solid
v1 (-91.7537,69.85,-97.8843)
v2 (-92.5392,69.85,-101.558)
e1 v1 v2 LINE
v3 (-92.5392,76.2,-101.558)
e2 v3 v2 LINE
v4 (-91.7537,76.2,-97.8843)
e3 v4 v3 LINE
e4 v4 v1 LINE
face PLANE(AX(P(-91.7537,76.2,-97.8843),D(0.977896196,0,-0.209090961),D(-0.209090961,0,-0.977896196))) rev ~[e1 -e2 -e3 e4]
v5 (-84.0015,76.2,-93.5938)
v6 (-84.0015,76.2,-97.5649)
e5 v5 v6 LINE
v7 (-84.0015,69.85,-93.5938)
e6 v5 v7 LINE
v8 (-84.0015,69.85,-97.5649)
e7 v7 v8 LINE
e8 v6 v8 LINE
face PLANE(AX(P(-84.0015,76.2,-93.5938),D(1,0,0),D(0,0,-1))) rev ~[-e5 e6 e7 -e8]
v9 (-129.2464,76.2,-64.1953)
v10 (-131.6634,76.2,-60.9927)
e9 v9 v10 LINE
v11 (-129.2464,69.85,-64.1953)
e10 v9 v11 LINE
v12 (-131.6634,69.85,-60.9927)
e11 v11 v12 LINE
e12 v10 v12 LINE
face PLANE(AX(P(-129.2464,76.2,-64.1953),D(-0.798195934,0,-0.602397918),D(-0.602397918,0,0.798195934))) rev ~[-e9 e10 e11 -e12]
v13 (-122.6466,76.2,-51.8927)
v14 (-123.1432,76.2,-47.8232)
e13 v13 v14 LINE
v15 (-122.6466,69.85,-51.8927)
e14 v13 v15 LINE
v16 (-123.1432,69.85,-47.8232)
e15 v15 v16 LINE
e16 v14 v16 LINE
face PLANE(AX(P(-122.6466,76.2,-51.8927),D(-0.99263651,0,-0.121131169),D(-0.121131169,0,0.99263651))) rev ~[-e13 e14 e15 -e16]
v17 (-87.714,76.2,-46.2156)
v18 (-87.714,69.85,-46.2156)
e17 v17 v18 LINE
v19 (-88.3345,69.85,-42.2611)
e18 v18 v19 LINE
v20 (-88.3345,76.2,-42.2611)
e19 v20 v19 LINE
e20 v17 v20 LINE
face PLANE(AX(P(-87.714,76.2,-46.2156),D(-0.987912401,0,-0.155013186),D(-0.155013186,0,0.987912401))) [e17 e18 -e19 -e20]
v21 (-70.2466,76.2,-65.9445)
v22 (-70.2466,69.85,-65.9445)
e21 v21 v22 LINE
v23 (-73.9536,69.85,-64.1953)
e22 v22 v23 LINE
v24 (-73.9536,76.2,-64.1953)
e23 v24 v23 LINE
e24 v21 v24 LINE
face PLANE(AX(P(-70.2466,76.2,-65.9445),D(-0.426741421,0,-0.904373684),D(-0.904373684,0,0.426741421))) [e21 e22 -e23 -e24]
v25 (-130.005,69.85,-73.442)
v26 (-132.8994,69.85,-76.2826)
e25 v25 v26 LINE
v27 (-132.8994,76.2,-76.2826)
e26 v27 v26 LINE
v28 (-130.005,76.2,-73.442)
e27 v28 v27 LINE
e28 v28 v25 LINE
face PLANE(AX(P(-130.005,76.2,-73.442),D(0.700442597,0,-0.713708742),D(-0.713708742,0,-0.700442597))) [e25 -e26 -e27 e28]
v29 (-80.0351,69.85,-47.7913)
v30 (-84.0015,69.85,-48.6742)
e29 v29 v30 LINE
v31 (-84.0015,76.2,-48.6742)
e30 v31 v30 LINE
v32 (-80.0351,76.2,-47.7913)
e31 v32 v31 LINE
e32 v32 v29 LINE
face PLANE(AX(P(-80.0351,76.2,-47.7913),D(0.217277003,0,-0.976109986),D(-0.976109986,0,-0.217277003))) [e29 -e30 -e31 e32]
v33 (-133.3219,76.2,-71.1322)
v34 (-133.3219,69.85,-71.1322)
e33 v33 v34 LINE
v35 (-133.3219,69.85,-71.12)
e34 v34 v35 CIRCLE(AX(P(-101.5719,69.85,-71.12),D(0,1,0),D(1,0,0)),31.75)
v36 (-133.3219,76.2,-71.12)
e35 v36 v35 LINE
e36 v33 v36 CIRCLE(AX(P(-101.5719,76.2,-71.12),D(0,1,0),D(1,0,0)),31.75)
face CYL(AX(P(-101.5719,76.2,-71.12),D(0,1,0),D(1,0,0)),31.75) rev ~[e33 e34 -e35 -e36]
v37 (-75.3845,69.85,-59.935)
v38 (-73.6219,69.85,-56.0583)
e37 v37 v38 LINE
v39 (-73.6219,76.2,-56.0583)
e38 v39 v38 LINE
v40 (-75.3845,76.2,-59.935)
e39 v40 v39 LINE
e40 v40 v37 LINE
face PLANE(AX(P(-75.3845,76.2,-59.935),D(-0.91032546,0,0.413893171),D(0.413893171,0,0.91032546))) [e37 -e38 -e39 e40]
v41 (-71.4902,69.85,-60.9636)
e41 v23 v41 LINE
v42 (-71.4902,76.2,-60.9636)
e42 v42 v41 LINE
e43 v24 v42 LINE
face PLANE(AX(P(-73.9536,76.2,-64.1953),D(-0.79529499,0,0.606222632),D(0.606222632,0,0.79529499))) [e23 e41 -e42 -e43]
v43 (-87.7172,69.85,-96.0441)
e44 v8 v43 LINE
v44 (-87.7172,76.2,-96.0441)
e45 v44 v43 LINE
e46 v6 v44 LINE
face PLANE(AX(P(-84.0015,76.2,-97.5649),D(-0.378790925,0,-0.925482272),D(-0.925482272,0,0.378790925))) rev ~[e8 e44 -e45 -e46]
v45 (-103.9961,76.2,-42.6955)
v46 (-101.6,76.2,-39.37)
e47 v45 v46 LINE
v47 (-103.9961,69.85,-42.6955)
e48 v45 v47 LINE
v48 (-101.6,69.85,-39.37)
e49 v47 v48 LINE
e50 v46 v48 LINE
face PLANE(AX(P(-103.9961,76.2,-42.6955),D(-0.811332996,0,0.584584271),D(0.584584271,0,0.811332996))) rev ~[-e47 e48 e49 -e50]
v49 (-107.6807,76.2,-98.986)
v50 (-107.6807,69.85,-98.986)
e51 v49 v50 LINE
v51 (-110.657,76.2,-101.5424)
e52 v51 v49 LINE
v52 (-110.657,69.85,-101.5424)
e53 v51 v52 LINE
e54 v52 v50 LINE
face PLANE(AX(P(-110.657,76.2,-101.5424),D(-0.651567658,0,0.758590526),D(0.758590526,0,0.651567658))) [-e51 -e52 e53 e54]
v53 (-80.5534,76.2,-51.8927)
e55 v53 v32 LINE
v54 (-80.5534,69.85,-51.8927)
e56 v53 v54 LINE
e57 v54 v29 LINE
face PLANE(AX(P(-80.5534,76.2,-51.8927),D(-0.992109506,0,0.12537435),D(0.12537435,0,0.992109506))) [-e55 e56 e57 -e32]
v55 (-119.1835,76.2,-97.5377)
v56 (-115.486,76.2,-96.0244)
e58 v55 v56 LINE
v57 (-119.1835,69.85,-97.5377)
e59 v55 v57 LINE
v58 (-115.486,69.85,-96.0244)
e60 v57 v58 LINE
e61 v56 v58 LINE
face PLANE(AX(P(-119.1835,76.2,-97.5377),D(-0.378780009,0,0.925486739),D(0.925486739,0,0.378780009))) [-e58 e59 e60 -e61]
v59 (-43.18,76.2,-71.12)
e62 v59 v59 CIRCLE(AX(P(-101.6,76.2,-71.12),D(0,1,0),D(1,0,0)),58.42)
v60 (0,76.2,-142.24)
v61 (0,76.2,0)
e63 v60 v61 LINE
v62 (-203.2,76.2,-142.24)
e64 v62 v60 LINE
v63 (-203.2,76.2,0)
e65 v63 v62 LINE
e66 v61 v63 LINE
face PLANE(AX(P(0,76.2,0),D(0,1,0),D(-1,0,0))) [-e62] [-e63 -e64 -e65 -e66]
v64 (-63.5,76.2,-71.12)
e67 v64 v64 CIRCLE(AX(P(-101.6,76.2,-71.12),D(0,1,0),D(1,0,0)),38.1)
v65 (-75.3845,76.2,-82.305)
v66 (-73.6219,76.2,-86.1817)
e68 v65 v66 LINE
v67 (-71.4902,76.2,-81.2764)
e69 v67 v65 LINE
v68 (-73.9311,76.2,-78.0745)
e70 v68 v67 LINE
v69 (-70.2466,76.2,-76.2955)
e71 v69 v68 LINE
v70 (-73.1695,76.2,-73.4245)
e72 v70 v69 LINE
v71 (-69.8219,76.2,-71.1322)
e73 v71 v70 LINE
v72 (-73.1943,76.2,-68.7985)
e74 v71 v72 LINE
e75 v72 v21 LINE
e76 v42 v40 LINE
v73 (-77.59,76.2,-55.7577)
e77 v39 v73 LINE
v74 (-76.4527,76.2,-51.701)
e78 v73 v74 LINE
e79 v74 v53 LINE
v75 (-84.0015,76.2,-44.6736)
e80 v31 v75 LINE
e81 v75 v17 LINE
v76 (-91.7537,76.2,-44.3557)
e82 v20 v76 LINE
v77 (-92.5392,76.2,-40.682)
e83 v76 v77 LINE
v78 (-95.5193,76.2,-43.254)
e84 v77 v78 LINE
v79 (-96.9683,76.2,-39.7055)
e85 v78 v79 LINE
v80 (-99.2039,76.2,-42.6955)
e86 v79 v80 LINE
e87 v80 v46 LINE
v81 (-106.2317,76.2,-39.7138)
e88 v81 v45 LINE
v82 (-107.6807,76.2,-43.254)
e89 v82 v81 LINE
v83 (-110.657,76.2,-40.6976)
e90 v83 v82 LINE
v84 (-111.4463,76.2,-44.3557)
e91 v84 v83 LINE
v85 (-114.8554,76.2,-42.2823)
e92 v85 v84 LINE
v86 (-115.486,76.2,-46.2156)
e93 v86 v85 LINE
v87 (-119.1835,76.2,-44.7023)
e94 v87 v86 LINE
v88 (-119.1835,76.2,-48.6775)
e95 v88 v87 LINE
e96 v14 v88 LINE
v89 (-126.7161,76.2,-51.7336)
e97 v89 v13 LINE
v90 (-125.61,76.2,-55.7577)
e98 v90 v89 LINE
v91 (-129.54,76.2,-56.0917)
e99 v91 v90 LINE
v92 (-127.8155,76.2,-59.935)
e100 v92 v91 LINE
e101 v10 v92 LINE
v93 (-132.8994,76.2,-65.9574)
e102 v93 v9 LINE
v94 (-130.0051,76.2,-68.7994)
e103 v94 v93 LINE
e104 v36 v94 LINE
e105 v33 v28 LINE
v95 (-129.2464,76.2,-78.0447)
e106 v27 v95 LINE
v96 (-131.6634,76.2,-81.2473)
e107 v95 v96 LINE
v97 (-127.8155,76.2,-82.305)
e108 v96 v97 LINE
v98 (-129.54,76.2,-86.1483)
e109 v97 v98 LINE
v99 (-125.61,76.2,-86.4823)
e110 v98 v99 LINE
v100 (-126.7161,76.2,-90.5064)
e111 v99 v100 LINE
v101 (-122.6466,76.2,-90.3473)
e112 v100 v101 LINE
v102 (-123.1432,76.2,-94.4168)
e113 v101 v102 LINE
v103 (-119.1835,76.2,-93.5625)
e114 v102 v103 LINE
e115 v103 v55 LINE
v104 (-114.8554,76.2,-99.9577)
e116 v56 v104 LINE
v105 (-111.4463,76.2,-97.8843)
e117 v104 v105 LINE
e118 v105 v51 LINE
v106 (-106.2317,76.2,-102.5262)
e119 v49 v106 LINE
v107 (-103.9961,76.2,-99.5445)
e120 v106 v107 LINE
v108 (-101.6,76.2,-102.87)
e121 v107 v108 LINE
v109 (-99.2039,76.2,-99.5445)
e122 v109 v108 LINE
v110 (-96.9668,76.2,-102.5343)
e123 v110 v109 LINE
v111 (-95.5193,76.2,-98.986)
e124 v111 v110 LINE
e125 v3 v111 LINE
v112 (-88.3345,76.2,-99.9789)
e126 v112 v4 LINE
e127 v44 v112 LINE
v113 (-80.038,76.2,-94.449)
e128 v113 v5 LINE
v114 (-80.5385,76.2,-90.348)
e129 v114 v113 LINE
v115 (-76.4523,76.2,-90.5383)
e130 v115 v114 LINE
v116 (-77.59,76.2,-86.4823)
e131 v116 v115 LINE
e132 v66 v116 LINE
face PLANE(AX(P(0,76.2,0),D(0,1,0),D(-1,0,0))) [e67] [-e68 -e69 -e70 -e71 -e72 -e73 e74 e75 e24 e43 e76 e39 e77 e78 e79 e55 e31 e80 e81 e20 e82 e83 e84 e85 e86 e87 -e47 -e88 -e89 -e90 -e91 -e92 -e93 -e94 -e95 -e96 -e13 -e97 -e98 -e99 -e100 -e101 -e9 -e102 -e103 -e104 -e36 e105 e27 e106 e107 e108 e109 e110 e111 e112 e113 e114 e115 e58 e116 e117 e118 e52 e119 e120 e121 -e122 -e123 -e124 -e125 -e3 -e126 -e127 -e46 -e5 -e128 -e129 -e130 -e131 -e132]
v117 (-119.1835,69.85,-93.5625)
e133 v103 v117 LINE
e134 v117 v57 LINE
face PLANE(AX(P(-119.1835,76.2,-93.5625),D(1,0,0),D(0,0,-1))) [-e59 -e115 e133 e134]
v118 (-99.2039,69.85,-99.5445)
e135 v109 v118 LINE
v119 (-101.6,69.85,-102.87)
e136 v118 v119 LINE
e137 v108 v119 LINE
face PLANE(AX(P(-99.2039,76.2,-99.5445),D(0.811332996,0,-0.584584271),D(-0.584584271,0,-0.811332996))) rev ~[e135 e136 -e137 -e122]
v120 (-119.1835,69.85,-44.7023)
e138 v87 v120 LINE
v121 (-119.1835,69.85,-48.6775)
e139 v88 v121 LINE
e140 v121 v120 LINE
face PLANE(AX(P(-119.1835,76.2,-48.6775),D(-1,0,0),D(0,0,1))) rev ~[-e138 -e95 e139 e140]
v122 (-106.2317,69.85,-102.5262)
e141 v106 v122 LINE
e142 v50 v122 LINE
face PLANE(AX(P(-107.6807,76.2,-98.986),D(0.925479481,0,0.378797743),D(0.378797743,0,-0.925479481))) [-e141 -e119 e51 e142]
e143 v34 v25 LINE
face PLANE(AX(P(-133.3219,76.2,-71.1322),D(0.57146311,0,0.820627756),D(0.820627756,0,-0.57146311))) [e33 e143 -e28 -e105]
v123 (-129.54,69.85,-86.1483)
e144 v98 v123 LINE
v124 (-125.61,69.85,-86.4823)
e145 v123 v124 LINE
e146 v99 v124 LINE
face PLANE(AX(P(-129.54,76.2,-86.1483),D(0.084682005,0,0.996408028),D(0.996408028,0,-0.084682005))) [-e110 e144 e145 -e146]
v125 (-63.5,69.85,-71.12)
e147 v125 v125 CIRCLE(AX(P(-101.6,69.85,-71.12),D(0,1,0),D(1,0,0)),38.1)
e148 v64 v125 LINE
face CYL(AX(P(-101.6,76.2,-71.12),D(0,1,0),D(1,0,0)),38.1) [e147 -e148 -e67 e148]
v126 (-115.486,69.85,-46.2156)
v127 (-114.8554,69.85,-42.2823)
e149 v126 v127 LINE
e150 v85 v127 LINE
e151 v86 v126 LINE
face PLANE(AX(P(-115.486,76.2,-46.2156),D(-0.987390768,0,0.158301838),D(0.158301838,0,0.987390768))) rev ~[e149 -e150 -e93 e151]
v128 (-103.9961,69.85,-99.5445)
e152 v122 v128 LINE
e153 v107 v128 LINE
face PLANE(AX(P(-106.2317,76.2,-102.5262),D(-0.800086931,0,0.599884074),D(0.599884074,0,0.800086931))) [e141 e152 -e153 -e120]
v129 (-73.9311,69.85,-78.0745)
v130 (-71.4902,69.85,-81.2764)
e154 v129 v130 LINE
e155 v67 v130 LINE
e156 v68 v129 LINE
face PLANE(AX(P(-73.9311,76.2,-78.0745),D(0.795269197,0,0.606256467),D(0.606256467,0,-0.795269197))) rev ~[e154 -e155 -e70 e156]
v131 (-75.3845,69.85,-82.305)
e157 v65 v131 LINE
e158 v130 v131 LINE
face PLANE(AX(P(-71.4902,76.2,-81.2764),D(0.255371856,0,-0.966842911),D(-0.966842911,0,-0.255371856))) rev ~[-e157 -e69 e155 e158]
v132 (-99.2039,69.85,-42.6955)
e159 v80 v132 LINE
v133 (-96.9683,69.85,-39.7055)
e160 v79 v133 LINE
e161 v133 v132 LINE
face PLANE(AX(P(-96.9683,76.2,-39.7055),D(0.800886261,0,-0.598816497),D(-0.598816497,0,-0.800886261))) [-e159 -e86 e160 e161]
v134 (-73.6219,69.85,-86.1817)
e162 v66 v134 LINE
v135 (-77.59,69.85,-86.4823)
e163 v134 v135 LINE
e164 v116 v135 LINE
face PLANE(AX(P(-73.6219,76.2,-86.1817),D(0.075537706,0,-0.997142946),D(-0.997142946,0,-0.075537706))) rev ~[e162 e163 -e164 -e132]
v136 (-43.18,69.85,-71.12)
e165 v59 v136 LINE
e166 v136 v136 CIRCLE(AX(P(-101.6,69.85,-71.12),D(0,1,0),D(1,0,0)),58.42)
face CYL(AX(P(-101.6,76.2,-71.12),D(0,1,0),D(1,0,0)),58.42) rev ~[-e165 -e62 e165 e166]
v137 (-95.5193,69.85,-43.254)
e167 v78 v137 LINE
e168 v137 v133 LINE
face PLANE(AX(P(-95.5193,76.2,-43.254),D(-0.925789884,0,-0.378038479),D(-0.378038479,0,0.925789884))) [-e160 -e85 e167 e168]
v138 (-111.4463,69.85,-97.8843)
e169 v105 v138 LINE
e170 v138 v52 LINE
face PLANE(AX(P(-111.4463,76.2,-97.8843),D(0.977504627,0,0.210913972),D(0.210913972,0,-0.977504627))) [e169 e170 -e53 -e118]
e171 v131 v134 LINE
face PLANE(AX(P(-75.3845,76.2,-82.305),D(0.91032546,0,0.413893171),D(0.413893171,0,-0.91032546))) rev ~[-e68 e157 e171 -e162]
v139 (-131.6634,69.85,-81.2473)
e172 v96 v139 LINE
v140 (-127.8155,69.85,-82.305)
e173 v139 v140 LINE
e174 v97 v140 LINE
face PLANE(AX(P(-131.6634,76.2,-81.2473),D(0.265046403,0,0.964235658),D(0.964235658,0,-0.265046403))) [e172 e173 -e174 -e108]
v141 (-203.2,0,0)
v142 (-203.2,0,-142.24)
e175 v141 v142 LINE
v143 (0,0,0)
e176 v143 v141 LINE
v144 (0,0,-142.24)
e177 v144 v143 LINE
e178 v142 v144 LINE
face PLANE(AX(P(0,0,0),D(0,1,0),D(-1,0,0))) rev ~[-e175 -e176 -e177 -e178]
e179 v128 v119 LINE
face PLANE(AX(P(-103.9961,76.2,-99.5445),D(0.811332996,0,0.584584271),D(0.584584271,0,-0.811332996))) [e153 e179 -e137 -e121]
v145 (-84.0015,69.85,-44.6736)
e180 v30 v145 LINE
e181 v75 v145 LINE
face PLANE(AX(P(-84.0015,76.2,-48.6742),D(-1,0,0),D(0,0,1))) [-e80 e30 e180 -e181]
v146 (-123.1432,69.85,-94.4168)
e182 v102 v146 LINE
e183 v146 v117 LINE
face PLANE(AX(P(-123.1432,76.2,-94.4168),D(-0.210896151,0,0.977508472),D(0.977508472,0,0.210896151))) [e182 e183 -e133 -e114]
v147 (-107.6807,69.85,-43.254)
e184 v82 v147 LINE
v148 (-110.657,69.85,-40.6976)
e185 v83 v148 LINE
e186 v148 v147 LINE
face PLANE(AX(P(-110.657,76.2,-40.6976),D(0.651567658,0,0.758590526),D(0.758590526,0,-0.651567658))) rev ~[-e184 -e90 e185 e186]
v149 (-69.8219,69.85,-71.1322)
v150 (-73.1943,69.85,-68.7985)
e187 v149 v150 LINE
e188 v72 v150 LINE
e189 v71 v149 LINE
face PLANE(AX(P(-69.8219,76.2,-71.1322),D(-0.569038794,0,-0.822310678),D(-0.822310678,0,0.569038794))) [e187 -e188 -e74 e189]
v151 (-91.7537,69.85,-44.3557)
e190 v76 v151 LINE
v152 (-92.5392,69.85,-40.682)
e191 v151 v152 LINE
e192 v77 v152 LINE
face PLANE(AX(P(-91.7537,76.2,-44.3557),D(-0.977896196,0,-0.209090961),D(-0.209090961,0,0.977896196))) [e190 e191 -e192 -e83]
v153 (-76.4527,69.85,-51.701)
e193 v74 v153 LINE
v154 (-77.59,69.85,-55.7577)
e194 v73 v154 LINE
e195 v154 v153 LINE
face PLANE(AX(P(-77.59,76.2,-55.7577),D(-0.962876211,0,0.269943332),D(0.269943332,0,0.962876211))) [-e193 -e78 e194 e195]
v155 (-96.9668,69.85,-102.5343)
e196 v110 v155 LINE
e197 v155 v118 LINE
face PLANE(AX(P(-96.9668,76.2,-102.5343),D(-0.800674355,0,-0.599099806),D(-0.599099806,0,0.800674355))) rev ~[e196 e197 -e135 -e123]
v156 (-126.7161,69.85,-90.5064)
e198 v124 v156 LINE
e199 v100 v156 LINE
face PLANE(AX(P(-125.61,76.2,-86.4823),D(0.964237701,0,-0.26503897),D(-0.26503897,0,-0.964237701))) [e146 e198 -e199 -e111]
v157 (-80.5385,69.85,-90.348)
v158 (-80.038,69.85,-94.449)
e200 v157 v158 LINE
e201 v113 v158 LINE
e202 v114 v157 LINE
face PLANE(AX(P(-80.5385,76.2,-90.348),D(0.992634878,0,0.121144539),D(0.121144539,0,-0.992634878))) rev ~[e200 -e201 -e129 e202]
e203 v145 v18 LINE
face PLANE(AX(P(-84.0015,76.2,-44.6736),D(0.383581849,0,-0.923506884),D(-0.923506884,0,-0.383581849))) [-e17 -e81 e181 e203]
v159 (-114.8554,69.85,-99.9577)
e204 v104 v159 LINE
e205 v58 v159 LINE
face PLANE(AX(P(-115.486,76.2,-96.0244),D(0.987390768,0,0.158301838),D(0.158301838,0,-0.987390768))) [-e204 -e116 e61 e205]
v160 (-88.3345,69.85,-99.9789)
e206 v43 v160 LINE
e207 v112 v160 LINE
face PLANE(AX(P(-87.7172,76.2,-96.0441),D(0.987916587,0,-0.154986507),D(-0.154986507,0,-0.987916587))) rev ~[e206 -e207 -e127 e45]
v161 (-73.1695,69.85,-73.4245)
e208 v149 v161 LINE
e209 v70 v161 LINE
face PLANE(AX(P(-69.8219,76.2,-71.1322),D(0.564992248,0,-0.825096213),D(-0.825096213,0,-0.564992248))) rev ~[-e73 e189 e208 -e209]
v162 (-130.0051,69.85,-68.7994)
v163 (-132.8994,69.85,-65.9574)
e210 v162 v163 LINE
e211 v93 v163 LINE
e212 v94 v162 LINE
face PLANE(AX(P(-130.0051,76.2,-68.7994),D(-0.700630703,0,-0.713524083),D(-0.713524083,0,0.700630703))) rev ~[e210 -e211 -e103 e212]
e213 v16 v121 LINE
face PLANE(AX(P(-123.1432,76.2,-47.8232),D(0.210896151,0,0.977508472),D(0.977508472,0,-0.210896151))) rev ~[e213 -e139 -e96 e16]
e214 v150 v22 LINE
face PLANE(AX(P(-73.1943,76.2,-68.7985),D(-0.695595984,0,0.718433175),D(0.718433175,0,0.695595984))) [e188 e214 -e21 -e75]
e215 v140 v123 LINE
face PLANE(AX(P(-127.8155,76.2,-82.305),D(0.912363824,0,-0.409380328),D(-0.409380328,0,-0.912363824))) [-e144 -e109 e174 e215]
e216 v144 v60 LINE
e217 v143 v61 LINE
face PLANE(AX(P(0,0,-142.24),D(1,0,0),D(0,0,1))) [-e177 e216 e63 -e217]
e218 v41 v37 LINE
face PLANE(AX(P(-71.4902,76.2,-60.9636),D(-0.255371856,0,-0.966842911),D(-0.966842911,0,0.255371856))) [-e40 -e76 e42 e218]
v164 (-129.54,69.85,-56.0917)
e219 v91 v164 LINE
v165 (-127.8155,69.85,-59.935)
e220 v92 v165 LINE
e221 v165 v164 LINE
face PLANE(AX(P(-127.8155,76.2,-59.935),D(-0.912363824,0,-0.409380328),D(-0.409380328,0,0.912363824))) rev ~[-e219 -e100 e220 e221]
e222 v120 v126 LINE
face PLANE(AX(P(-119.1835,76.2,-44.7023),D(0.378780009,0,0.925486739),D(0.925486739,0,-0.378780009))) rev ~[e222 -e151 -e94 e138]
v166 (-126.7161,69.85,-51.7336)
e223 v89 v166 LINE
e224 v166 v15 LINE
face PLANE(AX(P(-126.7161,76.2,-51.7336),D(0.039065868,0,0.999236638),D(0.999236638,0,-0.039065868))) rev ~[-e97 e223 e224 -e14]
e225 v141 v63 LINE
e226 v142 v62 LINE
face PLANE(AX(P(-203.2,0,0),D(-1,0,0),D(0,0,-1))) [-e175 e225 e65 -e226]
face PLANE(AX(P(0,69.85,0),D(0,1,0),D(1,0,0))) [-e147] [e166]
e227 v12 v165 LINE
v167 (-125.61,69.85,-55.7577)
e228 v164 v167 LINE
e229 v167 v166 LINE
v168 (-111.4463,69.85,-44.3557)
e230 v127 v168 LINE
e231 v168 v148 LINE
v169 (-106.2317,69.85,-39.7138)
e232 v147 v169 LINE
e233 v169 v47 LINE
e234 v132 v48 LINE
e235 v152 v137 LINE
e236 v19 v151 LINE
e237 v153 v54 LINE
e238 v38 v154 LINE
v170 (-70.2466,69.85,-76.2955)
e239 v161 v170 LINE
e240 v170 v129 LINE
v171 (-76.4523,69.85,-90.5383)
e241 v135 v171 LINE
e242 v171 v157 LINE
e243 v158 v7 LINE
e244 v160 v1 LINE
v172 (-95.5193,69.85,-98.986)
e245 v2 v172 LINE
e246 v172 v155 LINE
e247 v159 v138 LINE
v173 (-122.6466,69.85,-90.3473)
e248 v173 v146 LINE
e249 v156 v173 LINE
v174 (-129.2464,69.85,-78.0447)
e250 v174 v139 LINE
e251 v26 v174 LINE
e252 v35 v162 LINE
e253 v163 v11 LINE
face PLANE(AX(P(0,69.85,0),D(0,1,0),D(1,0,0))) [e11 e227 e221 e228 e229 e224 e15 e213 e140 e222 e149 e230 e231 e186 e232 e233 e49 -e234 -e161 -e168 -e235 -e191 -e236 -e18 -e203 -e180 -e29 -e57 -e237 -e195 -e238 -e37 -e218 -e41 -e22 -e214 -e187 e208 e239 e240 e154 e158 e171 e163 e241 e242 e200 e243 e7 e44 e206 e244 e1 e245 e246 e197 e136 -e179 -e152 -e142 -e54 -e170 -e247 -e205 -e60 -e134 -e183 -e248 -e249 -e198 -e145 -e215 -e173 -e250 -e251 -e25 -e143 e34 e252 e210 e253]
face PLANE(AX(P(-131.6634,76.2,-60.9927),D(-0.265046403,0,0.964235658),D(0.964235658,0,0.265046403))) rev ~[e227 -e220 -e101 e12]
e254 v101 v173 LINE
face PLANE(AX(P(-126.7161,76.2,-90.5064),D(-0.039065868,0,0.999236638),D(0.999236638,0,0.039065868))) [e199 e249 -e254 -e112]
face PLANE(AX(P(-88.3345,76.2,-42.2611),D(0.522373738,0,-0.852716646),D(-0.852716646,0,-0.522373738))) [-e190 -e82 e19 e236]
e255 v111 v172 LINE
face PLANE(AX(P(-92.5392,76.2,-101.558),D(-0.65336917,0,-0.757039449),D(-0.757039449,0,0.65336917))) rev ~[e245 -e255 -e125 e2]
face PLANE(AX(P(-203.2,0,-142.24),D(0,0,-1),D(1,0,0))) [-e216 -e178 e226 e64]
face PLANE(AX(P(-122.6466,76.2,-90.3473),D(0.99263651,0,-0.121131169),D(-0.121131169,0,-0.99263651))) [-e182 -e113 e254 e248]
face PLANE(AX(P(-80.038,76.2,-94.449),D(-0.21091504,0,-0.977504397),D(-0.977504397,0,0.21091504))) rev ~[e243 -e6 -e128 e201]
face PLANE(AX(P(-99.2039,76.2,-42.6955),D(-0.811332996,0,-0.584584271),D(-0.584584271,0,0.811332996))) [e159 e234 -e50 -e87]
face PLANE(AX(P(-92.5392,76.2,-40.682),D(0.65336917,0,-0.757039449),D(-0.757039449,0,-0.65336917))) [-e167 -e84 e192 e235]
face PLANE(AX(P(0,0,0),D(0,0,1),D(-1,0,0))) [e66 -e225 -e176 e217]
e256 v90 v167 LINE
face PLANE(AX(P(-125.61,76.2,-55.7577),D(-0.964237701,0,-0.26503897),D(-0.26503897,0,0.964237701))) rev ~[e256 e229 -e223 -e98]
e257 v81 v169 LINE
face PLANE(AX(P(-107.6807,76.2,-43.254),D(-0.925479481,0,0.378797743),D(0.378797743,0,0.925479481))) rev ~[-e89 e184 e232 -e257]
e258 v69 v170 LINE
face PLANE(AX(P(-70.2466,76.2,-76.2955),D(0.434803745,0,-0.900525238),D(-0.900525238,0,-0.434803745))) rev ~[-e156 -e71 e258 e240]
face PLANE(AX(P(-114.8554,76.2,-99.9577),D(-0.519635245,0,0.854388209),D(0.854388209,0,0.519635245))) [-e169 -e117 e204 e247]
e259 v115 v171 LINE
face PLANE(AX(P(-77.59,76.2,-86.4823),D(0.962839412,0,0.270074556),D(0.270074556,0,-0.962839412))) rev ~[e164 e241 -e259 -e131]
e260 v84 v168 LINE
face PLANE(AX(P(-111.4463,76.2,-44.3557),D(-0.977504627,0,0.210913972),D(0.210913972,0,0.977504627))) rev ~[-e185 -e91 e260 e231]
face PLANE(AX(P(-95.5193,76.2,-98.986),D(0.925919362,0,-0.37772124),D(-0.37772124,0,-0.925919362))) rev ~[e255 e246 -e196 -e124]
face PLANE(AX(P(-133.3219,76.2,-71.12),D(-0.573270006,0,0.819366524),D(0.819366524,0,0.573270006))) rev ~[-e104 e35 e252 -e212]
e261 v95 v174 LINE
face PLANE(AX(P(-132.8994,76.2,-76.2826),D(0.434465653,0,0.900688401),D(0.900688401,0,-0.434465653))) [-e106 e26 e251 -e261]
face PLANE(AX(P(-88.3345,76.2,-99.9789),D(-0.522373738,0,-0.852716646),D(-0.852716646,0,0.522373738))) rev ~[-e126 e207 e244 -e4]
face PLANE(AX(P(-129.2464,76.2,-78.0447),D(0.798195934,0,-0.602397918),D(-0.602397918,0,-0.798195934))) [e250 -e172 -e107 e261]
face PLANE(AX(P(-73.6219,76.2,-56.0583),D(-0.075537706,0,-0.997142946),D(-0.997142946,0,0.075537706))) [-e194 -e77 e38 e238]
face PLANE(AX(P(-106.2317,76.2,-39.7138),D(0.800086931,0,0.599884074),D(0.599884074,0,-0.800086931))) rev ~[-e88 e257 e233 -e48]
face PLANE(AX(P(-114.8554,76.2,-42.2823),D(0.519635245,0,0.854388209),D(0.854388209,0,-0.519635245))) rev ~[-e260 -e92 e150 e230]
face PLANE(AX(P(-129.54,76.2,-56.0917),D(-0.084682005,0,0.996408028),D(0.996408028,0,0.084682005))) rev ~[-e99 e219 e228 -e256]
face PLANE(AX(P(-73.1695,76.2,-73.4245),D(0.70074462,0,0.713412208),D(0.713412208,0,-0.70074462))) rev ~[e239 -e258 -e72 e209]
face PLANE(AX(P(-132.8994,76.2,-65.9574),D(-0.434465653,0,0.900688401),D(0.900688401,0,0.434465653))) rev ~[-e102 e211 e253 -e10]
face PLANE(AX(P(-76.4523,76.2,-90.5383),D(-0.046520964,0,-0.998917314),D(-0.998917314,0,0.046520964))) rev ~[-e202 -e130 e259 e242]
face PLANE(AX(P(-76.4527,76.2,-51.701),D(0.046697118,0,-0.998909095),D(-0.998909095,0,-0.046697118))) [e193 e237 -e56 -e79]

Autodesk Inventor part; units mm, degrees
ref_plane "YZ Plane" through (0, 0, 0) normal (1, 0, 0) x (0, 1, 0)
ref_plane "XZ Plane" through (0, 0, 0) normal (0, 1, 0) x (-1, 0, 0)
ref_plane "XY Plane" through (0, 0, 0) normal (0, 0, 1) x (1, 0, 0)
sketch "Sketch1" plane through (0, 0, 0) normal (0, 1, 0) x (-1, 0, 0)
  line L0 (0, 0) -> (203.2, 0)
  line L1 (203.2, 0) -> (203.2, -142.24)
  line L2 (203.2, -142.24) -> (0, -142.24)
  line L3 (0, -142.24) -> (0, 0)
  dimension "d0" = 203.2
  dimension "d1" = 142.24
extrude "Extrusion1" add sketch "Sketch1" along normal blind 76.2
sketch "Sketch2" plane through (0, 76.2, 0) normal (0, 1, 0) x (1, 0, 0)
  line L0 (-203.2, 0) -> (0, 0) projected
  line L1 (-203.2, 0) -> (-203.2, 71.12)
  line L2 (-203.2, 142.24) -> (-203.2, 0) projected
  line L3 (0, 0) -> (0, 142.24) projected
  line L4 (0, 0) -> (-101.6, 0)
  circle A0 centre (-101.6, 71.12) radius 38.1
  circle A1 centre (-101.6, 71.12) radius 58.42
  circle A2 centre (-101.6, 71.12) radius 31.75
  line L5 (0, 142.24) -> (-203.2, 142.24) projected
  dimension "d4" = 71.12
  dimension "d6" = 101.6
  dimension "d7" = 76.2
  dimension "d8" = 116.84
  dimension "d9" = 63.5
  dimension "d10" = 71.12
extrude "Extrusion2" cut sketch "Sketch2" against normal blind 6.35 contours A1
sketch "Sketch3" plane through (0, 76.2, 0) normal (0, 1, 0) x (1, 0, 0)
  line L0 (0, 0) -> (-101.6, 0)
  line L1 (-203.2, 0) -> (0, 0) projected
  line L2 (0, 142.24) -> (-203.2, 142.24) projected
  line L3 (0, 0) -> (0, 142.24) projected
  circle A0 centre (-101.5719, 71.12) radius 31.75
  line L4 (-133.3219, 71.12) -> (-129.54, 71.12) construction
  line L5 (-130.036, 73.0239) -> (-126.4684, 73.0239) construction
  line L6 (-133.3219, 71.12) -> (-130.0051, 68.7994)
  line L7 (-130.0051, 68.7994) -> (-132.8994, 65.9574)
  line L8 (-133.3219, 71.1322) -> (-130.005, 73.442)
  line L9 (-130.005, 73.442) -> (-132.8994, 76.2826)
  line L10 (-132.8994, 76.2826) -> (-129.2464, 78.0447)
  line L11 (-129.2464, 78.0447) -> (-131.6634, 81.2473)
  line L12 (-131.6634, 81.2473) -> (-127.8155, 82.305)
  line L13 (-127.8155, 82.305) -> (-129.54, 86.1483)
  line L14 (-129.54, 86.1483) -> (-125.61, 86.4823)
  line L15 (-125.61, 86.4823) -> (-126.7161, 90.5064)
  line L16 (-126.7161, 90.5064) -> (-122.6466, 90.3473)
  line L17 (-122.6466, 90.3473) -> (-123.1432, 94.4168)
  line L18 (-123.1432, 94.4168) -> (-119.1835, 93.5625)
  line L19 (-119.1835, 93.5625) -> (-119.1835, 97.5377)
  line L20 (-119.1835, 97.5377) -> (-115.486, 96.0244)
  line L21 (-115.486, 96.0244) -> (-114.8554, 99.9577)
  line L22 (-114.8554, 99.9577) -> (-111.4463, 97.8843)
  line L23 (-111.4463, 97.8843) -> (-110.657, 101.5424)
  line L24 (-110.657, 101.5424) -> (-107.6807, 98.986)
  line L25 (-107.6807, 98.986) -> (-106.2317, 102.5262)
  line L26 (-106.2317, 102.5262) -> (-103.9961, 99.5445)
  line L27 (-103.9961, 99.5445) -> (-101.6, 102.87)
  line L28 (-130.005, 68.798) -> (-132.8994, 65.9574)
  line L29 (-132.8994, 65.9574) -> (-129.2464, 64.1953)
  line L30 (-129.2464, 64.1953) -> (-131.6634, 60.9927)
  line L31 (-131.6634, 60.9927) -> (-127.8155, 59.935)
  line L32 (-127.8155, 59.935) -> (-129.54, 56.0917)
  line L33 (-129.54, 56.0917) -> (-125.61, 55.7577)
  line L34 (-125.61, 55.7577) -> (-126.7161, 51.7336)
  line L35 (-126.7161, 51.7336) -> (-122.6466, 51.8927)
  line L36 (-122.6466, 51.8927) -> (-123.1432, 47.8232)
  line L37 (-123.1432, 47.8232) -> (-119.1835, 48.6775)
  line L38 (-119.1835, 48.6775) -> (-119.1835, 44.7023)
  line L39 (-119.1835, 44.7023) -> (-115.486, 46.2156)
  line L40 (-115.486, 46.2156) -> (-114.8554, 42.2823)
  line L41 (-114.8554, 42.2823) -> (-111.4463, 44.3557)
  line L42 (-111.4463, 44.3557) -> (-110.657, 40.6976)
  line L43 (-110.657, 40.6976) -> (-107.6807, 43.254)
  line L44 (-107.6807, 43.254) -> (-106.2317, 39.7138)
  line L45 (-106.2317, 39.7138) -> (-103.9961, 42.6955)
  line L46 (-103.9961, 42.6955) -> (-101.6, 39.37)
  line L47 (-73.1943, 68.7985) -> (-70.2466, 65.9445)
  line L48 (-69.8219, 71.1322) -> (-73.1695, 73.4245)
  line L49 (-73.1695, 73.4245) -> (-70.2466, 76.2955)
  line L50 (-70.2466, 76.2955) -> (-73.9311, 78.0745)
  line L51 (-73.9311, 78.0745) -> (-71.4902, 81.2764)
  line L52 (-71.4902, 81.2764) -> (-75.3845, 82.305)
  line L53 (-75.3845, 82.305) -> (-73.6219, 86.1817)
  line L54 (-73.6219, 86.1817) -> (-77.59, 86.4823)
  line L55 (-77.59, 86.4823) -> (-76.4523, 90.5383)
  line L56 (-76.4523, 90.5383) -> (-80.5385, 90.348)
  line L57 (-80.5385, 90.348) -> (-80.038, 94.449)
  line L58 (-80.038, 94.449) -> (-84.0015, 93.5938)
  line L59 (-84.0015, 93.5938) -> (-84.0015, 97.5649)
  line L60 (-84.0015, 97.5649) -> (-87.7172, 96.0441)
  line L61 (-87.7172, 96.0441) -> (-88.3345, 99.9789)
  line L62 (-88.3345, 99.9789) -> (-91.7537, 97.8843)
  line L63 (-91.7537, 97.8843) -> (-92.5392, 101.558)
  line L64 (-92.5392, 101.558) -> (-95.5193, 98.986)
  line L65 (-95.5193, 98.986) -> (-96.9668, 102.5343)
  line L66 (-96.9668, 102.5343) -> (-99.2039, 99.5445)
  line L67 (-99.2039, 99.5445) -> (-101.6, 102.87)
  line L68 (-69.8219, 71.1322) -> (-73.195, 68.798)
  line L69 (-73.195, 68.798) -> (-70.2466, 65.9445)
  line L70 (-70.2466, 65.9445) -> (-73.9536, 64.1953)
  line L71 (-73.9536, 64.1953) -> (-71.4902, 60.9636)
  line L72 (-71.4902, 60.9636) -> (-75.3845, 59.935)
  line L73 (-75.3845, 59.935) -> (-73.6219, 56.0583)
  line L74 (-73.6219, 56.0583) -> (-77.59, 55.7577)
  line L75 (-76.4527, 51.701) -> (-80.5534, 51.8927)
  line L76 (-77.59, 55.7577) -> (-76.4527, 51.701)
  line L77 (-80.5534, 51.8927) -> (-80.0351, 47.7913)
  line L78 (-80.0351, 47.7913) -> (-84.0015, 48.6742)
  line L79 (-84.0015, 48.6742) -> (-84.0015, 44.6736)
  line L80 (-84.0015, 44.6736) -> (-87.714, 46.2156)
  line L81 (-87.714, 46.2156) -> (-88.3345, 42.2611)
  line L82 (-88.3345, 42.2611) -> (-91.7537, 44.3557)
  line L83 (-91.7537, 44.3557) -> (-92.5392, 40.682)
  line L84 (-92.5392, 40.682) -> (-95.5193, 43.254)
  line L85 (-95.5193, 43.254) -> (-96.9683, 39.7055)
  line L86 (-96.9683, 39.7055) -> (-99.2039, 42.6955)
  line L87 (-99.2039, 42.6955) -> (-101.6, 39.37)
  line L88 (-133.3219, 71.1322) -> (-130.005, 68.798)
  line L89 (-130.005, 68.798) -> (-132.8994, 65.9574)
  line L90 (-132.8994, 65.9574) -> (-129.2464, 64.1953)
  line L91 (-129.2464, 64.1953) -> (-131.6634, 60.9927)
  line L92 (-131.6634, 60.9927) -> (-127.8155, 59.935)
  line L93 (-127.8155, 59.935) -> (-129.54, 56.0917)
  line L94 (-126.7161, 51.7336) -> (-122.6466, 51.8927)
  line L95 (-122.6466, 51.8927) -> (-123.1432, 47.8232)
  line L96 (-123.1432, 47.8232) -> (-119.1835, 48.6775)
  line L97 (-119.1835, 48.6775) -> (-119.1835, 44.7023)
  line L98 (-119.1835, 44.7023) -> (-115.486, 46.2156)
  line L99 (-115.486, 46.2156) -> (-114.8554, 42.2823)
  line L100 (-114.8554, 42.2823) -> (-111.4463, 44.3557)
  line L101 (-111.4463, 44.3557) -> (-110.657, 40.6976)
  line L102 (-107.6807, 43.254) -> (-110.657, 40.6976)
  line L103 (-107.6807, 43.254) -> (-106.2317, 39.7138)
  line L104 (-106.2317, 39.7138) -> (-103.9961, 42.6955)
  line L105 (-103.9961, 42.6955) -> (-101.6, 39.37)
  line L106 (-101.6, 39.37) -> (-99.2039, 42.6955)
  line L107 (-99.2039, 42.6955) -> (-96.9683, 39.7055)
  line L108 (-96.9683, 39.7055) -> (-95.5193, 43.254)
  line L109 (-95.5193, 43.254) -> (-92.5392, 40.682)
  line L110 (-92.5392, 40.682) -> (-91.7537, 44.3557)
  line L111 (-91.7537, 44.3557) -> (-88.3345, 42.2611)
  line L112 (-129.2464, 78.0447) -> (-131.6634, 81.2473)
  line L113 (-131.6634, 81.2473) -> (-127.8155, 82.305)
  line L114 (-129.54, 86.1483) -> (-127.8155, 82.305)
  line L115 (-129.54, 86.1483) -> (-125.61, 86.4823)
  line L116 (-125.61, 86.4823) -> (-126.7161, 90.5064)
  line L117 (-71.4902, 81.2764) -> (-73.9311, 78.0745)
  line L118 (-73.9311, 78.0745) -> (-70.2466, 76.2955)
  line L119 (-70.2466, 76.2955) -> (-73.1695, 73.4245)
  line L120 (-73.1695, 73.4245) -> (-69.8219, 71.1322)
  line L121 (-69.8219, 71.1322) -> (-73.1943, 68.7985)
  line L122 (-73.1943, 68.7985) -> (-70.2466, 65.9445)
  line L123 (-70.2466, 65.9445) -> (-73.9536, 64.1953)
  line L124 (-73.9536, 64.1953) -> (-71.4902, 60.9636)
  line L125 (-71.4902, 60.9636) -> (-75.3845, 59.935)
  line L126 (-75.3845, 59.935) -> (-73.6219, 56.0583)
  line L127 (-75.3845, 59.935) -> (-73.6219, 56.0583)
  line L128 (-73.6219, 56.0583) -> (-77.59, 55.7577)
  line L129 (-70.2466, 65.9445) -> (-73.1943, 68.7985)
  line L130 (-73.1943, 68.7985) -> (-69.8219, 71.1322)
  line L131 (-69.8219, 71.1322) -> (-73.1695, 73.4245)
  line L132 (-73.1695, 73.4245) -> (-70.2466, 76.2955)
  line L133 (-70.2466, 76.2955) -> (-73.9311, 78.0745)
  line L134 (-71.4902, 60.9636) -> (-73.9536, 64.1953)
  line L135 (-73.9536, 64.1953) -> (-70.2466, 65.9445)
  line L136 (-70.2466, 65.9445) -> (-73.1943, 68.7985)
  line L137 (-73.1943, 68.7985) -> (-70.2466, 65.9445)
  line L138 (-73.1943, 68.7985) -> (-69.8219, 71.1322)
  line L139 (-69.8219, 71.1322) -> (-73.1695, 73.4245)
  line L140 (-73.1695, 73.4245) -> (-70.2466, 76.2955)
  line L141 (-70.2466, 76.2955) -> (-73.9311, 78.0745)
  line L142 (-69.8219, 71.1322) -> (-73.1695, 73.4245)
  line L143 (-71.4902, 81.2764) -> (-75.3845, 82.305)
  line L144 (-75.3845, 82.305) -> (-73.6219, 86.1817)
  line L145 (-73.6219, 86.1817) -> (-77.59, 86.4823)
  line L146 (-77.59, 86.4823) -> (-76.4523, 90.5383)
  line L147 (-73.6219, 86.1817) -> (-77.59, 86.4823)
  line L148 (-80.5385, 90.348) -> (-76.4523, 90.5383)
  line L149 (-71.4902, 81.2764) -> (-73.9311, 78.0745)
  line L150 (-131.6634, 81.2473) -> (-127.8155, 82.305)
  line L151 (-127.8155, 82.305) -> (-129.54, 86.1483)
  line L152 (-129.54, 86.1483) -> (-127.8155, 82.305)
  line L153 (-129.54, 86.1483) -> (-125.61, 86.4823)
  line L154 (-125.61, 86.4823) -> (-126.7161, 90.5064)
  line L155 (-126.7161, 90.5064) -> (-122.6466, 90.3473)
  line L156 (-122.6466, 90.3473) -> (-123.1432, 94.4168)
  line L157 (-123.1432, 94.4168) -> (-122.6466, 90.3473)
  line L158 (-123.1432, 94.4168) -> (-119.1835, 93.5625)
  line L159 (-119.1835, 93.5625) -> (-119.1835, 97.5377)
  line L160 (-119.1835, 97.5377) -> (-115.486, 96.0244)
  line L161 (-115.486, 96.0244) -> (-114.8554, 99.9577)
  line L162 (-114.8554, 99.9577) -> (-111.4463, 97.8843)
  dimension "d13" = 63.5
  dimension "d27" = 69.832
  dimension "d28" = 70.214
  dimension "d29" = 79.316
  dimension "d30" = 78.709
  dimension "d31" = 77.824
extrude "Extrusion3" cut sketch "Sketch3" against normal blind 6.35 contours L68 L47 L70 L71 L72 L73 L74 L76 L75 L77 L78 L79 L80 L81 L82 L83 L84 L85 L86 L87 L46 L45 L44 L43 L42 L41 L40 L39 L38 L37 L36 L35 L34 L33 L32 L31 L30 L29 L7 L88 L8 L9 L10 L11 L12 L13 L14 L15 L16 L17 L18 L19 L20 L21 L22 L23 L24 L25 L26 L27 L67 L66 L65 L64 L63 L62 L61 L60 L59 L58 L57 L56 L55 L54 L53 L52 L51 L50 L49 L48 | A0 L88 L6
